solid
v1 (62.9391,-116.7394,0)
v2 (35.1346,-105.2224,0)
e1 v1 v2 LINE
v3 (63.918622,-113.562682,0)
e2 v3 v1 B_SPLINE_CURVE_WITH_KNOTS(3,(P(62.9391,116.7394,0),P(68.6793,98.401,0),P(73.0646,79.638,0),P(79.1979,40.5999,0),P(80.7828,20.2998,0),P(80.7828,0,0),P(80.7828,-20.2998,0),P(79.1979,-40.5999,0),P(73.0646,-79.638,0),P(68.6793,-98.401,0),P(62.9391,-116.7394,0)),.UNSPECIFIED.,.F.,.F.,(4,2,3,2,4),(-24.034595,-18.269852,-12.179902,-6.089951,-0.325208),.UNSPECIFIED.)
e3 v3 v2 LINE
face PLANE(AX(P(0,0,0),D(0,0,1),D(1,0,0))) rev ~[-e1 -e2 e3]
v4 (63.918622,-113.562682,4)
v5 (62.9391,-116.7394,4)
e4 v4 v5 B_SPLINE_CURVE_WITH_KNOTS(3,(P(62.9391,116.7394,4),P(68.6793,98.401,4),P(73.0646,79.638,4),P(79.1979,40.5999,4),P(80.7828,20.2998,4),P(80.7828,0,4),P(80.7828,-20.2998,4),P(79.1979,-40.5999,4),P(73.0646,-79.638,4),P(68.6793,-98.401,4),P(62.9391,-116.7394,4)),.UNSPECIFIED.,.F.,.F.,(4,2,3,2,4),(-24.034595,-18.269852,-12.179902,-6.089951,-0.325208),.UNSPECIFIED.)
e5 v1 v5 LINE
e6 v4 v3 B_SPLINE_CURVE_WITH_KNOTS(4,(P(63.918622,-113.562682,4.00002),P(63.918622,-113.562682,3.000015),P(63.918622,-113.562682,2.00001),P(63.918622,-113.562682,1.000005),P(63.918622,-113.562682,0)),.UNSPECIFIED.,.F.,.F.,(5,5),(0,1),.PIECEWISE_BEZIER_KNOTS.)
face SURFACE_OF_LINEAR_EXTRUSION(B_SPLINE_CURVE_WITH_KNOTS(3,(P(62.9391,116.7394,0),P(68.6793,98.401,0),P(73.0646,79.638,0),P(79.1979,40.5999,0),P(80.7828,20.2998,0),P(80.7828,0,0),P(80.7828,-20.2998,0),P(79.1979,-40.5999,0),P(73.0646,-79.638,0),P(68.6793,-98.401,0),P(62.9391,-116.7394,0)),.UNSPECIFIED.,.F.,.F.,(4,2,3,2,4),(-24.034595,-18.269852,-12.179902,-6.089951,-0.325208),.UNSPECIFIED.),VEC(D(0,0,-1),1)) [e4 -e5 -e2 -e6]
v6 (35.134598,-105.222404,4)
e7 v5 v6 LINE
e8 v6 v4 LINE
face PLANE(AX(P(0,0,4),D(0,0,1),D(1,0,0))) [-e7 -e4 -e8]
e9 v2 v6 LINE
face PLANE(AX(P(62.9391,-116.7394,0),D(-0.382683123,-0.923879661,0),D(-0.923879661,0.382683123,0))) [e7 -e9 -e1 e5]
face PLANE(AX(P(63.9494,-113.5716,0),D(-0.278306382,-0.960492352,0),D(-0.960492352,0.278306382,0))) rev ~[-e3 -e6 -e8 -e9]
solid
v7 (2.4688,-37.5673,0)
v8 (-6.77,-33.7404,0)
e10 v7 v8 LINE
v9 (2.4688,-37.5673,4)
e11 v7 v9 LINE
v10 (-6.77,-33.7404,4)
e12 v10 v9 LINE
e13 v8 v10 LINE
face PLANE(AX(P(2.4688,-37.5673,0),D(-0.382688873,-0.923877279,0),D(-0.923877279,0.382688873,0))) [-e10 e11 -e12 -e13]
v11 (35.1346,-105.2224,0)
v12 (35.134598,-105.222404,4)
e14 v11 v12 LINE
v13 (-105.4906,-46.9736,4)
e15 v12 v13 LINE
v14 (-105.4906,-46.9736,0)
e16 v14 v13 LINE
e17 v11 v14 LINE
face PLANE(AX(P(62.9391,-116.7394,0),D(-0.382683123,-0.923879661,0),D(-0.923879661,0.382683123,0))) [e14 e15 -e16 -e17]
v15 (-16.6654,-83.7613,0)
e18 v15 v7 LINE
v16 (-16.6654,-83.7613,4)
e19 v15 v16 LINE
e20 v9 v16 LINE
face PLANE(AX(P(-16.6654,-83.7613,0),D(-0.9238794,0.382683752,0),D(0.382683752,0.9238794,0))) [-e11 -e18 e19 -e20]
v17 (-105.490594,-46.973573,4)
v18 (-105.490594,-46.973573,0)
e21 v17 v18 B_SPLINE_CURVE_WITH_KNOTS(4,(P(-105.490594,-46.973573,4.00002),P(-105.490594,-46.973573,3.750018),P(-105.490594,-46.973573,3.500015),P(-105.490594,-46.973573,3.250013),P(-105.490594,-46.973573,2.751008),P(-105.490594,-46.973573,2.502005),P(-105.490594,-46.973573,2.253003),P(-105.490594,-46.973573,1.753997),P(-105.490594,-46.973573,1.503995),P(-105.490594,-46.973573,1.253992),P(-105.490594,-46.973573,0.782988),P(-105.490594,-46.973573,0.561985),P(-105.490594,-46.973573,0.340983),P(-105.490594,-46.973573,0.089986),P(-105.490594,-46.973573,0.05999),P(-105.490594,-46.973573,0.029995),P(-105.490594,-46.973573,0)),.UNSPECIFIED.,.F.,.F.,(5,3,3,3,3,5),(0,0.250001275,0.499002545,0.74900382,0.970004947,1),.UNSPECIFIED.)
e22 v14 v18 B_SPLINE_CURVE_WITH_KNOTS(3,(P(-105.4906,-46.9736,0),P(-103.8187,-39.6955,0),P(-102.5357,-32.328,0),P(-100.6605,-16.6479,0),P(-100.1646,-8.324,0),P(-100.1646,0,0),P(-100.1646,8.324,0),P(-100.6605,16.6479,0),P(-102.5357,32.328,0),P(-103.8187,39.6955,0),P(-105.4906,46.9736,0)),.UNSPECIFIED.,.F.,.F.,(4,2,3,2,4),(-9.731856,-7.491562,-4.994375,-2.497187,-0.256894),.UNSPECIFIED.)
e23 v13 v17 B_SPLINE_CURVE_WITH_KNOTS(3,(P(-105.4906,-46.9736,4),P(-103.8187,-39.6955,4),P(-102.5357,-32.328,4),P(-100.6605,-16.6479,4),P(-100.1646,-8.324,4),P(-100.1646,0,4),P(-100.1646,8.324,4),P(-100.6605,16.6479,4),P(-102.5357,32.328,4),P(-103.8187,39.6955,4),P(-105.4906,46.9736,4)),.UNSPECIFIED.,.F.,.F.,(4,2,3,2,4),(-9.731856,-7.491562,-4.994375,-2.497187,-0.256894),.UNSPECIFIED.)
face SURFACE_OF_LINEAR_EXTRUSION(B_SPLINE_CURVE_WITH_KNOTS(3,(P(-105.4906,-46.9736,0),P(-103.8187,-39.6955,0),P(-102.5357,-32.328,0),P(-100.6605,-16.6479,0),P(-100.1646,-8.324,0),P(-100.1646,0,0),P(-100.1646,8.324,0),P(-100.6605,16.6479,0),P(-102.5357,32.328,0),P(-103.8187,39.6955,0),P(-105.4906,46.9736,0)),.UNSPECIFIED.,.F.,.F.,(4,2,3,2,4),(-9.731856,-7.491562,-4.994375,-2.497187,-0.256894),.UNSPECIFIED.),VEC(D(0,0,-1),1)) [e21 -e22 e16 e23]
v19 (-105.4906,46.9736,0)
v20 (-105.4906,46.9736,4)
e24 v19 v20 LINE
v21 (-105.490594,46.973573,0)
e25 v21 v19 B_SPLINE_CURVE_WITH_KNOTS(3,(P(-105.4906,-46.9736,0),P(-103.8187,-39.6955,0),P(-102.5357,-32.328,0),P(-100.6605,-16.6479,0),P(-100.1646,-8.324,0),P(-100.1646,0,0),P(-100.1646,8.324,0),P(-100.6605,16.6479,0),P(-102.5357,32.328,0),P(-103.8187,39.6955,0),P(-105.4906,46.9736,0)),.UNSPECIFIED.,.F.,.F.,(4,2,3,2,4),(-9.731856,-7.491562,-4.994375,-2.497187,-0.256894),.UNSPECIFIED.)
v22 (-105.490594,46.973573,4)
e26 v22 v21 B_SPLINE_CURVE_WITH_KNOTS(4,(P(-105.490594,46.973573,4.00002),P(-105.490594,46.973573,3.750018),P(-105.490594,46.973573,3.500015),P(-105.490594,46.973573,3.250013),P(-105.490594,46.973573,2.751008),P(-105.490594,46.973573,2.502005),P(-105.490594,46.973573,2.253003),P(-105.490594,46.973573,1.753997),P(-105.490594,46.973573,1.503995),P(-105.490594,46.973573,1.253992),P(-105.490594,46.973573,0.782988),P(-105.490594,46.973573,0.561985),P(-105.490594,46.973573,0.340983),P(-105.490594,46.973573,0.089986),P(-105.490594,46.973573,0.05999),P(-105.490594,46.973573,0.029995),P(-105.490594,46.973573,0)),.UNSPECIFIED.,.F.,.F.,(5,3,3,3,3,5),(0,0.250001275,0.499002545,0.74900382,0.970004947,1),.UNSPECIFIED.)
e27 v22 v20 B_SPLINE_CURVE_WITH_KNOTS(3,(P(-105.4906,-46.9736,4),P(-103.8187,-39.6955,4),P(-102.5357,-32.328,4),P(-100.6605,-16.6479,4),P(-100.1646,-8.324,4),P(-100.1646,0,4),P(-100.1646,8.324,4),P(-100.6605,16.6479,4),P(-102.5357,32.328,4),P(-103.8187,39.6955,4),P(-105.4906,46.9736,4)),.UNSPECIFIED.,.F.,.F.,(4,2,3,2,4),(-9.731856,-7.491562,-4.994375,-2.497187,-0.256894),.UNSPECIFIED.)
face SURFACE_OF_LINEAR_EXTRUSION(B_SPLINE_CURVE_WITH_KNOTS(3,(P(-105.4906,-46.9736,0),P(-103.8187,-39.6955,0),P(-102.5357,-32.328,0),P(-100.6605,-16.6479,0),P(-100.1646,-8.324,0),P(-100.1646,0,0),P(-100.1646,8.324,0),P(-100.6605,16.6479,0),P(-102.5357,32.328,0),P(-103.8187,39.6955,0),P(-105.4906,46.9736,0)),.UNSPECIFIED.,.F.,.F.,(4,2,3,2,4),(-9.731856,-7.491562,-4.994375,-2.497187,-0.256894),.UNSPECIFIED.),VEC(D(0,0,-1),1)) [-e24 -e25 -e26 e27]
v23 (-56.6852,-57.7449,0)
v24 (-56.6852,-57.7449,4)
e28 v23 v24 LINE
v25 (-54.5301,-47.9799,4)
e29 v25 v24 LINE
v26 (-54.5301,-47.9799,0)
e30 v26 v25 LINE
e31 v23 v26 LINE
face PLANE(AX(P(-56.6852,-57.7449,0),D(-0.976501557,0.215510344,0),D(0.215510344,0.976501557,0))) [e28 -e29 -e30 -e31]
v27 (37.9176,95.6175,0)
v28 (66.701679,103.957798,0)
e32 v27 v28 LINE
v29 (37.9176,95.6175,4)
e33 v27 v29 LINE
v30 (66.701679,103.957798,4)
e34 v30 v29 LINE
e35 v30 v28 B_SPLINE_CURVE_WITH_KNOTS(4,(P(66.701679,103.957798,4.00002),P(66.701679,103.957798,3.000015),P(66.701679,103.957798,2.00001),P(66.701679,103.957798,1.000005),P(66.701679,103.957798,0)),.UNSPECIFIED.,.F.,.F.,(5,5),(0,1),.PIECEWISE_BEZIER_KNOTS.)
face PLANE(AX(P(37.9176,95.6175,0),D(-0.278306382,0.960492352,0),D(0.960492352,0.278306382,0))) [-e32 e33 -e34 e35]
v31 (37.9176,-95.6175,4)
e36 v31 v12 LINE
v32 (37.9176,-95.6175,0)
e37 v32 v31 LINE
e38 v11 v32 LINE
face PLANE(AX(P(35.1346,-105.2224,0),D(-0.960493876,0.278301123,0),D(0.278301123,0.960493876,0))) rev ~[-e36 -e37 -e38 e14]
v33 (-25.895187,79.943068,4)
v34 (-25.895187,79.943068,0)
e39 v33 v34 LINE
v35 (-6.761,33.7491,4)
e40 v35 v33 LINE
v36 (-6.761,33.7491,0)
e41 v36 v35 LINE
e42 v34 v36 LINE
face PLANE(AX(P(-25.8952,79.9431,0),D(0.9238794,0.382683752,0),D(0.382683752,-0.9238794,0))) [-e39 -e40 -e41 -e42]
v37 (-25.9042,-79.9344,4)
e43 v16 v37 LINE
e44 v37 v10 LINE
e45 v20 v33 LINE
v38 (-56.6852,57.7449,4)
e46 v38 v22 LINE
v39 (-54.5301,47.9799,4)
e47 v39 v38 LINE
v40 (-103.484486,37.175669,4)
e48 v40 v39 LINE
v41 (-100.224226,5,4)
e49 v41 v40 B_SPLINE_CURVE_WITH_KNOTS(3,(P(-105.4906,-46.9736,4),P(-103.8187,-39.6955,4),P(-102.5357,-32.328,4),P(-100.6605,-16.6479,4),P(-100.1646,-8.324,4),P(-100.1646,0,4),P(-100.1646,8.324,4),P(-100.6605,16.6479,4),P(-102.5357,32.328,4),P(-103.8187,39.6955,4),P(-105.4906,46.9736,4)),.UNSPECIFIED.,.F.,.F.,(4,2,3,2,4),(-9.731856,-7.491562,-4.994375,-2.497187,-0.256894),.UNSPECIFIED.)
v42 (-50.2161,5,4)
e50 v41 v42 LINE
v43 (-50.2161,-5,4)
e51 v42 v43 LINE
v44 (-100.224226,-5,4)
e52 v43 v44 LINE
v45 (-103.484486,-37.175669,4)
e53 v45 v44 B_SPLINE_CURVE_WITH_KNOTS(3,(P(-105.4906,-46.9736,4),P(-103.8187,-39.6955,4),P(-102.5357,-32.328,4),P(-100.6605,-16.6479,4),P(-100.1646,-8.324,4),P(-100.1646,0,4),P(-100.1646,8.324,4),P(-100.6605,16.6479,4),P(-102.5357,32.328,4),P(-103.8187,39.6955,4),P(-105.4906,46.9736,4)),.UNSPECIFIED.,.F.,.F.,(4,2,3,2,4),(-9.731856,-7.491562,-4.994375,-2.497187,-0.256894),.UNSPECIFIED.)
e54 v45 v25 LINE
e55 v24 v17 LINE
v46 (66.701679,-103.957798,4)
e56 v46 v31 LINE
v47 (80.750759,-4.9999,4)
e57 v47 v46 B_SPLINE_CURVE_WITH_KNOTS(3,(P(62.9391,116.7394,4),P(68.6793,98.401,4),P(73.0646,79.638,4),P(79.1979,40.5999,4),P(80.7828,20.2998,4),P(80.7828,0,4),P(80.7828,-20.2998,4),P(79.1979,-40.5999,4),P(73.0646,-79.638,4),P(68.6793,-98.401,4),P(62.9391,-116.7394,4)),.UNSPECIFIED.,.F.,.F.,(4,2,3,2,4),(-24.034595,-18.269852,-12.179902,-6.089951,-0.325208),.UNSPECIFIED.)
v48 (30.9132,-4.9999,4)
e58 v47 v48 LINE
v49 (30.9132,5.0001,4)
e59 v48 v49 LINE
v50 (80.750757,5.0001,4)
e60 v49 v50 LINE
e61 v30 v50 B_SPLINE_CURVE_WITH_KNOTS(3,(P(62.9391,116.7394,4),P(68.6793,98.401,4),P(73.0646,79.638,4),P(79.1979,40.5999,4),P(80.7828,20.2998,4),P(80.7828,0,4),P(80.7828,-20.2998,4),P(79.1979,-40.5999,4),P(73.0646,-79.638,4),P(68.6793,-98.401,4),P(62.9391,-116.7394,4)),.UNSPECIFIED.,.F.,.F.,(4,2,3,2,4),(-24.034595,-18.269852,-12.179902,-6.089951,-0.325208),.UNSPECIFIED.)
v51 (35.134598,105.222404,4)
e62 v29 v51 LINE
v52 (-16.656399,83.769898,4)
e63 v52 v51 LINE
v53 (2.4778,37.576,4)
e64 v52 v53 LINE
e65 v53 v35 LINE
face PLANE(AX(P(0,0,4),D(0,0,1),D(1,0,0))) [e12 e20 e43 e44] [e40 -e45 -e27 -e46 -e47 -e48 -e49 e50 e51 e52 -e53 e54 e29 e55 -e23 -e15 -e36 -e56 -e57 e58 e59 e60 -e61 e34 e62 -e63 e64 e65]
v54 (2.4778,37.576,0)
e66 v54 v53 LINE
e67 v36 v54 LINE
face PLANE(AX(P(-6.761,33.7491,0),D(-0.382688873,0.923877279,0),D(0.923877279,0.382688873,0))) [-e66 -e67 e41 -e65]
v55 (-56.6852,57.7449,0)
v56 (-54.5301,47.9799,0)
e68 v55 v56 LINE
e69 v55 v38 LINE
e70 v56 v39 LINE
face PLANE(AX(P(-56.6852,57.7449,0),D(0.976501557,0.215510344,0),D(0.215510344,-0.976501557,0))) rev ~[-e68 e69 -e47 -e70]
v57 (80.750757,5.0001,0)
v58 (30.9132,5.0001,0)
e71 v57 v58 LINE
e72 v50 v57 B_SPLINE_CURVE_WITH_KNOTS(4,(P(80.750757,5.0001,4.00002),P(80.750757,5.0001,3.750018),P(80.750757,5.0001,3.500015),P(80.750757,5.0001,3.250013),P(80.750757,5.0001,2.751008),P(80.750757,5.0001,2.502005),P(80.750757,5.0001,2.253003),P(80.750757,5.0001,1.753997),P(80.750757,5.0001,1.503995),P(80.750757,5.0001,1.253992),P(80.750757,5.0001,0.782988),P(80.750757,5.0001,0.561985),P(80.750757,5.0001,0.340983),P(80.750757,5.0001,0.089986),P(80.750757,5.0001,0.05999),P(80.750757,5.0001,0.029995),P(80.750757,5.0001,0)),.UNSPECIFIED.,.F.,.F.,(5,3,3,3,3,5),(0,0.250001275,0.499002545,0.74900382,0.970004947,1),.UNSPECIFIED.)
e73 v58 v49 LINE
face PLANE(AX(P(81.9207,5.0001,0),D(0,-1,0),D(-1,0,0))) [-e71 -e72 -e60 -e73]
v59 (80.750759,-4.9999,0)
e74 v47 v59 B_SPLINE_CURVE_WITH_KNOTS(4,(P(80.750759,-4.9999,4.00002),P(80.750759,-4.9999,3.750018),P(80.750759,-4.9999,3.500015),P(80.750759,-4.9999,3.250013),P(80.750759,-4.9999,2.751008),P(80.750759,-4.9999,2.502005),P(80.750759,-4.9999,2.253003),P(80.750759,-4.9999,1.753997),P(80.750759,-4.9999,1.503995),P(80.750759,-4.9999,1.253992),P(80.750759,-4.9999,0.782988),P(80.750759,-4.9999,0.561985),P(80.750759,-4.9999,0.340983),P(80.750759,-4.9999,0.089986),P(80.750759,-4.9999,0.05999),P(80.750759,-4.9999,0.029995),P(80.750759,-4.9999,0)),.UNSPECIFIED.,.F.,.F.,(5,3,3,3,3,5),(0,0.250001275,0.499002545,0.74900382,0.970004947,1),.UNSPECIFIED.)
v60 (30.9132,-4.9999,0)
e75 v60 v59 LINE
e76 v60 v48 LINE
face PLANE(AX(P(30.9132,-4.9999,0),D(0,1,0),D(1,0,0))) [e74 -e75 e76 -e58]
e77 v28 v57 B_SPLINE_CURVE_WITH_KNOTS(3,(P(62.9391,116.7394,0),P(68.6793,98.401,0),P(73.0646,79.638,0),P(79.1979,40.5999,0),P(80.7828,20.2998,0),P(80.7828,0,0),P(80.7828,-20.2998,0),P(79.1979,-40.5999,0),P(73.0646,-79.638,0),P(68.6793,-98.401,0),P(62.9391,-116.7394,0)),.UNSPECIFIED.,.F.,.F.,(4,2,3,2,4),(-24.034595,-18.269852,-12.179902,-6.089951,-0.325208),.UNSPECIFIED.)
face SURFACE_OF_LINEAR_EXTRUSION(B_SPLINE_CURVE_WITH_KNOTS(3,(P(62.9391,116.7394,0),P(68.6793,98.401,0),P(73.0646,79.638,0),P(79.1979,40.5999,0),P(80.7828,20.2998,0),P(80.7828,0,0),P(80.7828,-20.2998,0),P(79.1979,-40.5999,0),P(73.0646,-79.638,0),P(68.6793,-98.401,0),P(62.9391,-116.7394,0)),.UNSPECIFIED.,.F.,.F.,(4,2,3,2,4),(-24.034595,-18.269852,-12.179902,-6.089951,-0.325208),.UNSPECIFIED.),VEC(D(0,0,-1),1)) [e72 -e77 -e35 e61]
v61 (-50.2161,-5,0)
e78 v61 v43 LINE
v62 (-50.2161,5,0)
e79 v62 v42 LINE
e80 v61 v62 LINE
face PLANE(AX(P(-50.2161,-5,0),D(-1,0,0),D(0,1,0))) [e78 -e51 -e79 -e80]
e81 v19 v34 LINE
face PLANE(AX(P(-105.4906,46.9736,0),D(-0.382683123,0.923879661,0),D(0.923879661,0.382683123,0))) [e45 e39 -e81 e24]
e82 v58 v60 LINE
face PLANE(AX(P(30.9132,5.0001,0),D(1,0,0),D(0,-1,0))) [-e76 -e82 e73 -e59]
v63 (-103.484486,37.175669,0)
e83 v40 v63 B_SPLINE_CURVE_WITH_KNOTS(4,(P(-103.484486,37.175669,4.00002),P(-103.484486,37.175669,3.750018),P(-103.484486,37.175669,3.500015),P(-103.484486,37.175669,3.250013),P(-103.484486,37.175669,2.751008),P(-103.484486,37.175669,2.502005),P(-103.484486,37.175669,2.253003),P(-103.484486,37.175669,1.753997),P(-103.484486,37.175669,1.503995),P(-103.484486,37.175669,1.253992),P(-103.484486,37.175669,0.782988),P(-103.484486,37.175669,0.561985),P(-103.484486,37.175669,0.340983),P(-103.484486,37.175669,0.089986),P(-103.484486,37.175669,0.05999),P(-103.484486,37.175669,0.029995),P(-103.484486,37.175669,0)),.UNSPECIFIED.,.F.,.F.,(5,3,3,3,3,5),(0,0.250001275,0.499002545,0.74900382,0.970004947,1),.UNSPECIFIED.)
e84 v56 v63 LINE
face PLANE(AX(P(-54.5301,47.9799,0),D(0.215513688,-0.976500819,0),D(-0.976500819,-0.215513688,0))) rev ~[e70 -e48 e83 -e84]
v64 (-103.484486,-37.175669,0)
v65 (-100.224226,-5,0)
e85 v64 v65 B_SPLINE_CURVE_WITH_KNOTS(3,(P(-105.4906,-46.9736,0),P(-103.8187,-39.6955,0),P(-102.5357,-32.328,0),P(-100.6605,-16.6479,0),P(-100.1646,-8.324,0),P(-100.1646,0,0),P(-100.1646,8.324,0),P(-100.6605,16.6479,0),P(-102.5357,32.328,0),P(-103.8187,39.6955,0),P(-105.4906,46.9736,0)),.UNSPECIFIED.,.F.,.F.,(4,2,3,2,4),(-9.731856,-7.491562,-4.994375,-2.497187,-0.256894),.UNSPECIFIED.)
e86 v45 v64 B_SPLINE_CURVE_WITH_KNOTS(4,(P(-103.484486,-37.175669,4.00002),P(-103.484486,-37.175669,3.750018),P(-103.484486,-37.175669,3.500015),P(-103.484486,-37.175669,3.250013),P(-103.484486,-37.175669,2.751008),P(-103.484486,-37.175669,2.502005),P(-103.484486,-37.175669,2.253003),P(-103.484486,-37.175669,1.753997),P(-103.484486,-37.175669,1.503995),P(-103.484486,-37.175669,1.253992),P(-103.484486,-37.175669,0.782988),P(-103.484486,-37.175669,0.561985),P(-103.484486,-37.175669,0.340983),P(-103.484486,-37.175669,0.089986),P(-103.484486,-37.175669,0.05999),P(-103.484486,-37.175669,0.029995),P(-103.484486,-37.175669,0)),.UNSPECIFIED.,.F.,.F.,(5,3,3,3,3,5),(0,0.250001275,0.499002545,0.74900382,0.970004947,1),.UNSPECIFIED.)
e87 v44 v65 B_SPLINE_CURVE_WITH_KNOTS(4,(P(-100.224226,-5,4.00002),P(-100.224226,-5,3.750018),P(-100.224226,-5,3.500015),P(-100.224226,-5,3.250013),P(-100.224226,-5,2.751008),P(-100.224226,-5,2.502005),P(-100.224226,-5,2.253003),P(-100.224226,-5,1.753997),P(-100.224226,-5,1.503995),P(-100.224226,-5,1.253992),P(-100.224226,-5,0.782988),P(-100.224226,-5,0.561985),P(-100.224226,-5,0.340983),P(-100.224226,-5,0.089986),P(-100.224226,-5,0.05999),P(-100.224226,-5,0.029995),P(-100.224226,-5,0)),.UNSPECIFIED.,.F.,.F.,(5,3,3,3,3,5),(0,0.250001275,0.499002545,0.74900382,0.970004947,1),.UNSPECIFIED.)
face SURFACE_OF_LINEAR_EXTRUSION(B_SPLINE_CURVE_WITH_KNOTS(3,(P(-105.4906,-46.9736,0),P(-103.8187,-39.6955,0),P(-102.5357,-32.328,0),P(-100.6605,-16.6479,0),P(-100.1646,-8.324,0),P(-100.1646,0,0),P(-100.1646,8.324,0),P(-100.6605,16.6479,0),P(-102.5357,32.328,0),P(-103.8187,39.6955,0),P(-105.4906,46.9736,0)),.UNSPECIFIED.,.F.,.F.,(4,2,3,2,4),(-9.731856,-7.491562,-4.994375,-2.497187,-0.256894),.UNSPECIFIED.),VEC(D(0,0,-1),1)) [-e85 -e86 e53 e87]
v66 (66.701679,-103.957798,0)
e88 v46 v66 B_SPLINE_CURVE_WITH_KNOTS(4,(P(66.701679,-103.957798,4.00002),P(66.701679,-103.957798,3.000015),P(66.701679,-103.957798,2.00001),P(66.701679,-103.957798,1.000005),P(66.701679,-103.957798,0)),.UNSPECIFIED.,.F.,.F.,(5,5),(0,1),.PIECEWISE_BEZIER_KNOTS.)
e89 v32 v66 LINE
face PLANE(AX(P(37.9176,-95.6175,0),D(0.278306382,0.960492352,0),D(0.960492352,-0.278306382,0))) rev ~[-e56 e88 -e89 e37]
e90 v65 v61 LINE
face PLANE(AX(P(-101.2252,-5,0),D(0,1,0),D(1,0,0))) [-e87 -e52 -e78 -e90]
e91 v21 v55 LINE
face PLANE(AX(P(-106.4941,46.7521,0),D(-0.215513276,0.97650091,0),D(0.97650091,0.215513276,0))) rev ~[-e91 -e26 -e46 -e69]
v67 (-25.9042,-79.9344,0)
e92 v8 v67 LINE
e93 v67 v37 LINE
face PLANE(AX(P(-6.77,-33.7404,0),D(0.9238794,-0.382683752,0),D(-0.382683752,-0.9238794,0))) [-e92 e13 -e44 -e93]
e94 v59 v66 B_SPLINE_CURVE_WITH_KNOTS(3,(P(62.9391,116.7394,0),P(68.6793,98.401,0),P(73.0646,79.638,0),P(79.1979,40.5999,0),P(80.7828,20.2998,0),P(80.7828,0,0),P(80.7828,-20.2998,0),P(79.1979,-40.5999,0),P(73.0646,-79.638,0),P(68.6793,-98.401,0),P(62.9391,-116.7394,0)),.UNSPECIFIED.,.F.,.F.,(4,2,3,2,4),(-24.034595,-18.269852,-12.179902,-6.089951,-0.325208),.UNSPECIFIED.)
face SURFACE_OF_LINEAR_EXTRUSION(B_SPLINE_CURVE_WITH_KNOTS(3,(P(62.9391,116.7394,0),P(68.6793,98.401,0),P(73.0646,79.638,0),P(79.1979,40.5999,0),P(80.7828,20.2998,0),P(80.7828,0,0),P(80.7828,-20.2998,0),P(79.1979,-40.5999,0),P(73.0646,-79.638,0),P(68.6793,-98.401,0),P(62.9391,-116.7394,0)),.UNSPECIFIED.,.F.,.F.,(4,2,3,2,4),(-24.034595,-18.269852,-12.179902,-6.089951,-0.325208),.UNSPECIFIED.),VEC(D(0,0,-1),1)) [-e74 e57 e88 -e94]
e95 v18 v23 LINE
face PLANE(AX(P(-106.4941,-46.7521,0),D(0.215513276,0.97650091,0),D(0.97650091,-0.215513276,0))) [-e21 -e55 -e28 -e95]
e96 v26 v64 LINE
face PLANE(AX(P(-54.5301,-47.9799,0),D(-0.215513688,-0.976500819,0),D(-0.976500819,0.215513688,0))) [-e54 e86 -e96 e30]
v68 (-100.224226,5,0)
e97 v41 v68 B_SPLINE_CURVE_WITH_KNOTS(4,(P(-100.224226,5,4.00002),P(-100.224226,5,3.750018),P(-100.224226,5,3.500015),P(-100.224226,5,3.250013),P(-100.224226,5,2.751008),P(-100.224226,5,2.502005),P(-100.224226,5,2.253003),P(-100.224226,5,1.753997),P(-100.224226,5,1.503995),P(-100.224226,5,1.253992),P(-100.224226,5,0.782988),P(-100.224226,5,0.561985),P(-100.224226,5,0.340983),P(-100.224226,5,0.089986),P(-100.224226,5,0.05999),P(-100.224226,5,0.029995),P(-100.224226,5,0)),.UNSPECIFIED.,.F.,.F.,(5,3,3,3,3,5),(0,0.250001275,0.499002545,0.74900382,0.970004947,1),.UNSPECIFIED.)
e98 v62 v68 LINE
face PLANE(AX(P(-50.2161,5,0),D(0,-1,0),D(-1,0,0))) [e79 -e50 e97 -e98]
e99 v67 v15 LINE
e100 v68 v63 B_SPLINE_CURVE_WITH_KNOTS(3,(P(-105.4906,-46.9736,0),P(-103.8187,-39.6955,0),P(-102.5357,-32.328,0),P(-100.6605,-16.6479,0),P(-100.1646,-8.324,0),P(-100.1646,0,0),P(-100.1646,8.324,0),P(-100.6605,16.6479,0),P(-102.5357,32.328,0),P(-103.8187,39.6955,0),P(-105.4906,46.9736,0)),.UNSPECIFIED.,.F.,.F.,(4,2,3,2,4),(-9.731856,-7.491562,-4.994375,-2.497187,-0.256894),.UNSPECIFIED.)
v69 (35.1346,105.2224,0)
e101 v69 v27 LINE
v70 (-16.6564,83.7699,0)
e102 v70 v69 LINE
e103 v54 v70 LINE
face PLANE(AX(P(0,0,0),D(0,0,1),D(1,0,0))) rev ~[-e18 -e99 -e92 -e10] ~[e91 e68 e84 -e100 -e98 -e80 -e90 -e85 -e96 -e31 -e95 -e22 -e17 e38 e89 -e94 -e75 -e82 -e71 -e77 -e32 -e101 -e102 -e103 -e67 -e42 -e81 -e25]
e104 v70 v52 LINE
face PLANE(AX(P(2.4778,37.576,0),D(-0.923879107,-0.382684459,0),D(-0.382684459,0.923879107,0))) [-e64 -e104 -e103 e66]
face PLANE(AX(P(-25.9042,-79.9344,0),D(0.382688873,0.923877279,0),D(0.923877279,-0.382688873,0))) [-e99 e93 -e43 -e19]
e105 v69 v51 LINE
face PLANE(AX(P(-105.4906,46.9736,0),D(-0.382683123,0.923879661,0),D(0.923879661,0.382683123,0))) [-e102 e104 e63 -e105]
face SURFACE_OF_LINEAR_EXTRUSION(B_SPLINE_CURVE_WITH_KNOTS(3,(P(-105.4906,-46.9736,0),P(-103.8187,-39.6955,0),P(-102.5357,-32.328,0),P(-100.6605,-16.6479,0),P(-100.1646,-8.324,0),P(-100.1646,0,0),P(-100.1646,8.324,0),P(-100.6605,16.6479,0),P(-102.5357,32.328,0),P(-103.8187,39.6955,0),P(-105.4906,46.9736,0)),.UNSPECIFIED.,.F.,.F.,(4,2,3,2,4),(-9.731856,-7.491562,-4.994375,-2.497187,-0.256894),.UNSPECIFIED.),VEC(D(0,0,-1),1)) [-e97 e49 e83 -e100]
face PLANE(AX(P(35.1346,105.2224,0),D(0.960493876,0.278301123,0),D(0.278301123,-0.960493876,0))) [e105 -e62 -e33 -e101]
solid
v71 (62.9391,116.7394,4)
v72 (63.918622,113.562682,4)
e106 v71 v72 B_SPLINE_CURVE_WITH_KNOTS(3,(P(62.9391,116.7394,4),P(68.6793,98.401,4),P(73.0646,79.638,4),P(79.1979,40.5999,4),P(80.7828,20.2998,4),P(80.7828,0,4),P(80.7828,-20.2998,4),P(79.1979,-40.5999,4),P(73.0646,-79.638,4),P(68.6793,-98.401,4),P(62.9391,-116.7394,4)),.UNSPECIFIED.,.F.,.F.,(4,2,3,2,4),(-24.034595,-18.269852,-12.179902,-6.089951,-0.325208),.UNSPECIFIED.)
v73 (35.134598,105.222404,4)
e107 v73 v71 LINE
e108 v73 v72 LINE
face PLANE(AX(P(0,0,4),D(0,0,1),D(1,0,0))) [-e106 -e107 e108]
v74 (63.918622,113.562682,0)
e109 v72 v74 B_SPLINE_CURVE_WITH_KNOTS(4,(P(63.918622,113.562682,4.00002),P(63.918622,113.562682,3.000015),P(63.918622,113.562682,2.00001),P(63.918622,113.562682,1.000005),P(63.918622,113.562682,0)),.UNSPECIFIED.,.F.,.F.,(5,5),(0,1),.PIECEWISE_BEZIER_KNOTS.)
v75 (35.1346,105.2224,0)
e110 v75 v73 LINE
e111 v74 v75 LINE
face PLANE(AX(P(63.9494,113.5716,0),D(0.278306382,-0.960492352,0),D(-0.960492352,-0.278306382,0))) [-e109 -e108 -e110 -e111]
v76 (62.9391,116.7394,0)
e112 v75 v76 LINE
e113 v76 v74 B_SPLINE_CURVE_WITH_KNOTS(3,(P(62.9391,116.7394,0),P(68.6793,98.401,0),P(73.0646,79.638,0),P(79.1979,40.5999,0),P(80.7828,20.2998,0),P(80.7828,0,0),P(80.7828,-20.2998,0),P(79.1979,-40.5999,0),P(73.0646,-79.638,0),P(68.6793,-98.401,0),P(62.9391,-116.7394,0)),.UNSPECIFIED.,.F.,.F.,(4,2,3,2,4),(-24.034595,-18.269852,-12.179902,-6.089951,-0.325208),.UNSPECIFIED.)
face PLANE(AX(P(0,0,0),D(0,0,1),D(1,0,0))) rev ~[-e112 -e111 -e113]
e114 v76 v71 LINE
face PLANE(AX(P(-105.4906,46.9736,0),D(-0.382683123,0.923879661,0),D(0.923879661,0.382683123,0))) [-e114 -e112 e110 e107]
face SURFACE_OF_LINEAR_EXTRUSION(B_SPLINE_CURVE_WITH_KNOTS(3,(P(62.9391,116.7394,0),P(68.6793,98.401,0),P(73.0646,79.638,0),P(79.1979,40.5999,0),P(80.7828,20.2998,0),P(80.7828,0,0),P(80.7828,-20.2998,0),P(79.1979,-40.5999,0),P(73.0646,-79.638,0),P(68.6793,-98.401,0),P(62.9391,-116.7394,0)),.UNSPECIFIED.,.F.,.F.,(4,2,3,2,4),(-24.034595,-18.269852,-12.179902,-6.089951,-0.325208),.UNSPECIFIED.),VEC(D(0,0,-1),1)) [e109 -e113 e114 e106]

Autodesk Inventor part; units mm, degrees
ref_plane "YZ Plane" through (0, 0, 0) normal (1, 0, 0) x (0, 1, 0)
ref_plane "XZ Plane" through (0, 0, 0) normal (0, 1, 0) x (-1, 0, 0)
ref_plane "Work Plane1" through (0, 0, 0) normal (0, 0, 1) x (1, 0, 0)
sketch "Sketch2" plane through (0, 0, 0) normal (0, 0, 1) x (1, 0, 0)
  spline S0 degree 3 poles (62.9391, 116.7394) (68.6793, 98.401) (73.0646, 79.638) (79.1979, 40.5999) (80.7828, 20.2998) (80.7828, 0) (80.7828, -20.2998) (79.1979, -40.5999) (73.0646, -79.638) (68.6793, -98.401) (62.9391, -116.7394) knots -24.034595 -24.034595 -24.034595 -24.034595 -18.269852 -18.269852 -12.179902 -12.179902 -12.179902 -6.089951 -6.089951 -0.325208 -0.325208 -0.325208 -0.325208 projected
  spline S1 degree 3 poles (-105.4906, -46.9736) (-103.8187, -39.6955) (-102.5357, -32.328) (-100.6605, -16.6479) (-100.1646, -8.324) (-100.1646, 0) (-100.1646, 8.324) (-100.6605, 16.6479) (-102.5357, 32.328) (-103.8187, 39.6955) (-105.4906, 46.9736) knots -9.731856 -9.731856 -9.731856 -9.731856 -7.491562 -7.491562 -4.994375 -4.994375 -4.994375 -2.497187 -2.497187 -0.256894 -0.256894 -0.256894 -0.256894 projected
  line L0 (62.9391, -116.7394) -> (-105.4906, -46.9736)
  line L1 (-105.4906, 46.9736) -> (62.9391, 116.7394)
  point P0 (0, 0)
extrude "Extrusion2" add sketch "Sketch2" along normal blind 4
sketch "Sketch3" plane through (0, 0, 0) normal (0, 0, -1) x (-1, 0, 0)
  line L0 (50.2161, -5) -> (50.2161, 5)
  line L1 (50.2161, 5) -> (101.2252, 5)
  line L2 (101.2252, 5) -> (101.2252, -5)
  line L3 (101.2252, -5) -> (50.2161, -5)
  line L4 (56.6852, -57.7449) -> (54.5301, -47.9799)
  line L5 (54.5301, -47.9799) -> (104.3389, -36.9871)
  line L6 (104.3389, -36.9871) -> (106.4941, -46.7521)
  line L7 (106.4941, -46.7521) -> (56.6852, -57.7449)
  line L8 (-2.4688, -37.5673) -> (6.77, -33.7404)
  line L9 (6.77, -33.7404) -> (25.9042, -79.9344)
  line L10 (25.9042, -79.9344) -> (16.6654, -83.7613)
  line L11 (16.6654, -83.7613) -> (-2.4688, -37.5673)
  line L12 (6.761, 33.7491) -> (-2.4778, 37.576)
  line L13 (-2.4778, 37.576) -> (16.6564, 83.7699)
  line L14 (16.6564, 83.7699) -> (25.8952, 79.9431)
  line L15 (25.8952, 79.9431) -> (6.761, 33.7491)
  line L16 (-30.9132, 5.0001) -> (-30.9132, -4.9999)
  line L17 (-30.9132, -4.9999) -> (-81.9207, -4.9999)
  line L18 (-81.9207, -4.9999) -> (-81.9207, 5.0001)
  line L19 (-81.9207, 5.0001) -> (-30.9132, 5.0001)
  line L20 (0, 0) -> (-130.3795, 0) construction
  line L21 (56.6852, 57.7449) -> (54.5301, 47.9799)
  line L22 (54.5301, 47.9799) -> (104.3389, 36.9871)
  line L23 (104.3389, 36.9871) -> (106.4941, 46.7521)
  line L24 (106.4941, 46.7521) -> (56.6852, 57.7449)
extrude "Extrusion3" cut sketch "Sketch3" against normal through all
sketch "Sketch4" plane through (0, 0, 0) normal (0, 0, -1) x (-1, 0, 0)
  line L0 (-63.9494, -113.5716) -> (-35.1346, -105.2224)
  line L1 (-35.1346, -105.2224) -> (-37.9176, -95.6175)
  line L2 (-37.9176, -95.6175) -> (-66.7324, -103.9667)
  line L3 (-66.7324, -103.9667) -> (-63.9494, -113.5716)
  line L4 (-62.9391, -116.7394) -> (105.4906, -46.9736) construction
  line L5 (0, 0) -> (-102.4259, 0) construction
  line L6 (-63.9494, 113.5716) -> (-35.1346, 105.2224)
  line L7 (-35.1346, 105.2224) -> (-37.9176, 95.6175)
  line L8 (-37.9176, 95.6175) -> (-66.7324, 103.9667)
  line L9 (-66.7324, 103.9667) -> (-63.9494, 113.5716)
  point P0 (-80.7508, -4.9999)
  point P1 (-65.3409, -108.7691)
  point P2 (-62.9391, 116.7394)
  point P3 (-65.3409, 108.7691)
  dimension "d21" = 30
  dimension "d22" = 10
extrude "Extrusion4" cut sketch "Sketch4" against normal through all
properties part number "internalSupportTop1" material "Wood (Cherry)"
